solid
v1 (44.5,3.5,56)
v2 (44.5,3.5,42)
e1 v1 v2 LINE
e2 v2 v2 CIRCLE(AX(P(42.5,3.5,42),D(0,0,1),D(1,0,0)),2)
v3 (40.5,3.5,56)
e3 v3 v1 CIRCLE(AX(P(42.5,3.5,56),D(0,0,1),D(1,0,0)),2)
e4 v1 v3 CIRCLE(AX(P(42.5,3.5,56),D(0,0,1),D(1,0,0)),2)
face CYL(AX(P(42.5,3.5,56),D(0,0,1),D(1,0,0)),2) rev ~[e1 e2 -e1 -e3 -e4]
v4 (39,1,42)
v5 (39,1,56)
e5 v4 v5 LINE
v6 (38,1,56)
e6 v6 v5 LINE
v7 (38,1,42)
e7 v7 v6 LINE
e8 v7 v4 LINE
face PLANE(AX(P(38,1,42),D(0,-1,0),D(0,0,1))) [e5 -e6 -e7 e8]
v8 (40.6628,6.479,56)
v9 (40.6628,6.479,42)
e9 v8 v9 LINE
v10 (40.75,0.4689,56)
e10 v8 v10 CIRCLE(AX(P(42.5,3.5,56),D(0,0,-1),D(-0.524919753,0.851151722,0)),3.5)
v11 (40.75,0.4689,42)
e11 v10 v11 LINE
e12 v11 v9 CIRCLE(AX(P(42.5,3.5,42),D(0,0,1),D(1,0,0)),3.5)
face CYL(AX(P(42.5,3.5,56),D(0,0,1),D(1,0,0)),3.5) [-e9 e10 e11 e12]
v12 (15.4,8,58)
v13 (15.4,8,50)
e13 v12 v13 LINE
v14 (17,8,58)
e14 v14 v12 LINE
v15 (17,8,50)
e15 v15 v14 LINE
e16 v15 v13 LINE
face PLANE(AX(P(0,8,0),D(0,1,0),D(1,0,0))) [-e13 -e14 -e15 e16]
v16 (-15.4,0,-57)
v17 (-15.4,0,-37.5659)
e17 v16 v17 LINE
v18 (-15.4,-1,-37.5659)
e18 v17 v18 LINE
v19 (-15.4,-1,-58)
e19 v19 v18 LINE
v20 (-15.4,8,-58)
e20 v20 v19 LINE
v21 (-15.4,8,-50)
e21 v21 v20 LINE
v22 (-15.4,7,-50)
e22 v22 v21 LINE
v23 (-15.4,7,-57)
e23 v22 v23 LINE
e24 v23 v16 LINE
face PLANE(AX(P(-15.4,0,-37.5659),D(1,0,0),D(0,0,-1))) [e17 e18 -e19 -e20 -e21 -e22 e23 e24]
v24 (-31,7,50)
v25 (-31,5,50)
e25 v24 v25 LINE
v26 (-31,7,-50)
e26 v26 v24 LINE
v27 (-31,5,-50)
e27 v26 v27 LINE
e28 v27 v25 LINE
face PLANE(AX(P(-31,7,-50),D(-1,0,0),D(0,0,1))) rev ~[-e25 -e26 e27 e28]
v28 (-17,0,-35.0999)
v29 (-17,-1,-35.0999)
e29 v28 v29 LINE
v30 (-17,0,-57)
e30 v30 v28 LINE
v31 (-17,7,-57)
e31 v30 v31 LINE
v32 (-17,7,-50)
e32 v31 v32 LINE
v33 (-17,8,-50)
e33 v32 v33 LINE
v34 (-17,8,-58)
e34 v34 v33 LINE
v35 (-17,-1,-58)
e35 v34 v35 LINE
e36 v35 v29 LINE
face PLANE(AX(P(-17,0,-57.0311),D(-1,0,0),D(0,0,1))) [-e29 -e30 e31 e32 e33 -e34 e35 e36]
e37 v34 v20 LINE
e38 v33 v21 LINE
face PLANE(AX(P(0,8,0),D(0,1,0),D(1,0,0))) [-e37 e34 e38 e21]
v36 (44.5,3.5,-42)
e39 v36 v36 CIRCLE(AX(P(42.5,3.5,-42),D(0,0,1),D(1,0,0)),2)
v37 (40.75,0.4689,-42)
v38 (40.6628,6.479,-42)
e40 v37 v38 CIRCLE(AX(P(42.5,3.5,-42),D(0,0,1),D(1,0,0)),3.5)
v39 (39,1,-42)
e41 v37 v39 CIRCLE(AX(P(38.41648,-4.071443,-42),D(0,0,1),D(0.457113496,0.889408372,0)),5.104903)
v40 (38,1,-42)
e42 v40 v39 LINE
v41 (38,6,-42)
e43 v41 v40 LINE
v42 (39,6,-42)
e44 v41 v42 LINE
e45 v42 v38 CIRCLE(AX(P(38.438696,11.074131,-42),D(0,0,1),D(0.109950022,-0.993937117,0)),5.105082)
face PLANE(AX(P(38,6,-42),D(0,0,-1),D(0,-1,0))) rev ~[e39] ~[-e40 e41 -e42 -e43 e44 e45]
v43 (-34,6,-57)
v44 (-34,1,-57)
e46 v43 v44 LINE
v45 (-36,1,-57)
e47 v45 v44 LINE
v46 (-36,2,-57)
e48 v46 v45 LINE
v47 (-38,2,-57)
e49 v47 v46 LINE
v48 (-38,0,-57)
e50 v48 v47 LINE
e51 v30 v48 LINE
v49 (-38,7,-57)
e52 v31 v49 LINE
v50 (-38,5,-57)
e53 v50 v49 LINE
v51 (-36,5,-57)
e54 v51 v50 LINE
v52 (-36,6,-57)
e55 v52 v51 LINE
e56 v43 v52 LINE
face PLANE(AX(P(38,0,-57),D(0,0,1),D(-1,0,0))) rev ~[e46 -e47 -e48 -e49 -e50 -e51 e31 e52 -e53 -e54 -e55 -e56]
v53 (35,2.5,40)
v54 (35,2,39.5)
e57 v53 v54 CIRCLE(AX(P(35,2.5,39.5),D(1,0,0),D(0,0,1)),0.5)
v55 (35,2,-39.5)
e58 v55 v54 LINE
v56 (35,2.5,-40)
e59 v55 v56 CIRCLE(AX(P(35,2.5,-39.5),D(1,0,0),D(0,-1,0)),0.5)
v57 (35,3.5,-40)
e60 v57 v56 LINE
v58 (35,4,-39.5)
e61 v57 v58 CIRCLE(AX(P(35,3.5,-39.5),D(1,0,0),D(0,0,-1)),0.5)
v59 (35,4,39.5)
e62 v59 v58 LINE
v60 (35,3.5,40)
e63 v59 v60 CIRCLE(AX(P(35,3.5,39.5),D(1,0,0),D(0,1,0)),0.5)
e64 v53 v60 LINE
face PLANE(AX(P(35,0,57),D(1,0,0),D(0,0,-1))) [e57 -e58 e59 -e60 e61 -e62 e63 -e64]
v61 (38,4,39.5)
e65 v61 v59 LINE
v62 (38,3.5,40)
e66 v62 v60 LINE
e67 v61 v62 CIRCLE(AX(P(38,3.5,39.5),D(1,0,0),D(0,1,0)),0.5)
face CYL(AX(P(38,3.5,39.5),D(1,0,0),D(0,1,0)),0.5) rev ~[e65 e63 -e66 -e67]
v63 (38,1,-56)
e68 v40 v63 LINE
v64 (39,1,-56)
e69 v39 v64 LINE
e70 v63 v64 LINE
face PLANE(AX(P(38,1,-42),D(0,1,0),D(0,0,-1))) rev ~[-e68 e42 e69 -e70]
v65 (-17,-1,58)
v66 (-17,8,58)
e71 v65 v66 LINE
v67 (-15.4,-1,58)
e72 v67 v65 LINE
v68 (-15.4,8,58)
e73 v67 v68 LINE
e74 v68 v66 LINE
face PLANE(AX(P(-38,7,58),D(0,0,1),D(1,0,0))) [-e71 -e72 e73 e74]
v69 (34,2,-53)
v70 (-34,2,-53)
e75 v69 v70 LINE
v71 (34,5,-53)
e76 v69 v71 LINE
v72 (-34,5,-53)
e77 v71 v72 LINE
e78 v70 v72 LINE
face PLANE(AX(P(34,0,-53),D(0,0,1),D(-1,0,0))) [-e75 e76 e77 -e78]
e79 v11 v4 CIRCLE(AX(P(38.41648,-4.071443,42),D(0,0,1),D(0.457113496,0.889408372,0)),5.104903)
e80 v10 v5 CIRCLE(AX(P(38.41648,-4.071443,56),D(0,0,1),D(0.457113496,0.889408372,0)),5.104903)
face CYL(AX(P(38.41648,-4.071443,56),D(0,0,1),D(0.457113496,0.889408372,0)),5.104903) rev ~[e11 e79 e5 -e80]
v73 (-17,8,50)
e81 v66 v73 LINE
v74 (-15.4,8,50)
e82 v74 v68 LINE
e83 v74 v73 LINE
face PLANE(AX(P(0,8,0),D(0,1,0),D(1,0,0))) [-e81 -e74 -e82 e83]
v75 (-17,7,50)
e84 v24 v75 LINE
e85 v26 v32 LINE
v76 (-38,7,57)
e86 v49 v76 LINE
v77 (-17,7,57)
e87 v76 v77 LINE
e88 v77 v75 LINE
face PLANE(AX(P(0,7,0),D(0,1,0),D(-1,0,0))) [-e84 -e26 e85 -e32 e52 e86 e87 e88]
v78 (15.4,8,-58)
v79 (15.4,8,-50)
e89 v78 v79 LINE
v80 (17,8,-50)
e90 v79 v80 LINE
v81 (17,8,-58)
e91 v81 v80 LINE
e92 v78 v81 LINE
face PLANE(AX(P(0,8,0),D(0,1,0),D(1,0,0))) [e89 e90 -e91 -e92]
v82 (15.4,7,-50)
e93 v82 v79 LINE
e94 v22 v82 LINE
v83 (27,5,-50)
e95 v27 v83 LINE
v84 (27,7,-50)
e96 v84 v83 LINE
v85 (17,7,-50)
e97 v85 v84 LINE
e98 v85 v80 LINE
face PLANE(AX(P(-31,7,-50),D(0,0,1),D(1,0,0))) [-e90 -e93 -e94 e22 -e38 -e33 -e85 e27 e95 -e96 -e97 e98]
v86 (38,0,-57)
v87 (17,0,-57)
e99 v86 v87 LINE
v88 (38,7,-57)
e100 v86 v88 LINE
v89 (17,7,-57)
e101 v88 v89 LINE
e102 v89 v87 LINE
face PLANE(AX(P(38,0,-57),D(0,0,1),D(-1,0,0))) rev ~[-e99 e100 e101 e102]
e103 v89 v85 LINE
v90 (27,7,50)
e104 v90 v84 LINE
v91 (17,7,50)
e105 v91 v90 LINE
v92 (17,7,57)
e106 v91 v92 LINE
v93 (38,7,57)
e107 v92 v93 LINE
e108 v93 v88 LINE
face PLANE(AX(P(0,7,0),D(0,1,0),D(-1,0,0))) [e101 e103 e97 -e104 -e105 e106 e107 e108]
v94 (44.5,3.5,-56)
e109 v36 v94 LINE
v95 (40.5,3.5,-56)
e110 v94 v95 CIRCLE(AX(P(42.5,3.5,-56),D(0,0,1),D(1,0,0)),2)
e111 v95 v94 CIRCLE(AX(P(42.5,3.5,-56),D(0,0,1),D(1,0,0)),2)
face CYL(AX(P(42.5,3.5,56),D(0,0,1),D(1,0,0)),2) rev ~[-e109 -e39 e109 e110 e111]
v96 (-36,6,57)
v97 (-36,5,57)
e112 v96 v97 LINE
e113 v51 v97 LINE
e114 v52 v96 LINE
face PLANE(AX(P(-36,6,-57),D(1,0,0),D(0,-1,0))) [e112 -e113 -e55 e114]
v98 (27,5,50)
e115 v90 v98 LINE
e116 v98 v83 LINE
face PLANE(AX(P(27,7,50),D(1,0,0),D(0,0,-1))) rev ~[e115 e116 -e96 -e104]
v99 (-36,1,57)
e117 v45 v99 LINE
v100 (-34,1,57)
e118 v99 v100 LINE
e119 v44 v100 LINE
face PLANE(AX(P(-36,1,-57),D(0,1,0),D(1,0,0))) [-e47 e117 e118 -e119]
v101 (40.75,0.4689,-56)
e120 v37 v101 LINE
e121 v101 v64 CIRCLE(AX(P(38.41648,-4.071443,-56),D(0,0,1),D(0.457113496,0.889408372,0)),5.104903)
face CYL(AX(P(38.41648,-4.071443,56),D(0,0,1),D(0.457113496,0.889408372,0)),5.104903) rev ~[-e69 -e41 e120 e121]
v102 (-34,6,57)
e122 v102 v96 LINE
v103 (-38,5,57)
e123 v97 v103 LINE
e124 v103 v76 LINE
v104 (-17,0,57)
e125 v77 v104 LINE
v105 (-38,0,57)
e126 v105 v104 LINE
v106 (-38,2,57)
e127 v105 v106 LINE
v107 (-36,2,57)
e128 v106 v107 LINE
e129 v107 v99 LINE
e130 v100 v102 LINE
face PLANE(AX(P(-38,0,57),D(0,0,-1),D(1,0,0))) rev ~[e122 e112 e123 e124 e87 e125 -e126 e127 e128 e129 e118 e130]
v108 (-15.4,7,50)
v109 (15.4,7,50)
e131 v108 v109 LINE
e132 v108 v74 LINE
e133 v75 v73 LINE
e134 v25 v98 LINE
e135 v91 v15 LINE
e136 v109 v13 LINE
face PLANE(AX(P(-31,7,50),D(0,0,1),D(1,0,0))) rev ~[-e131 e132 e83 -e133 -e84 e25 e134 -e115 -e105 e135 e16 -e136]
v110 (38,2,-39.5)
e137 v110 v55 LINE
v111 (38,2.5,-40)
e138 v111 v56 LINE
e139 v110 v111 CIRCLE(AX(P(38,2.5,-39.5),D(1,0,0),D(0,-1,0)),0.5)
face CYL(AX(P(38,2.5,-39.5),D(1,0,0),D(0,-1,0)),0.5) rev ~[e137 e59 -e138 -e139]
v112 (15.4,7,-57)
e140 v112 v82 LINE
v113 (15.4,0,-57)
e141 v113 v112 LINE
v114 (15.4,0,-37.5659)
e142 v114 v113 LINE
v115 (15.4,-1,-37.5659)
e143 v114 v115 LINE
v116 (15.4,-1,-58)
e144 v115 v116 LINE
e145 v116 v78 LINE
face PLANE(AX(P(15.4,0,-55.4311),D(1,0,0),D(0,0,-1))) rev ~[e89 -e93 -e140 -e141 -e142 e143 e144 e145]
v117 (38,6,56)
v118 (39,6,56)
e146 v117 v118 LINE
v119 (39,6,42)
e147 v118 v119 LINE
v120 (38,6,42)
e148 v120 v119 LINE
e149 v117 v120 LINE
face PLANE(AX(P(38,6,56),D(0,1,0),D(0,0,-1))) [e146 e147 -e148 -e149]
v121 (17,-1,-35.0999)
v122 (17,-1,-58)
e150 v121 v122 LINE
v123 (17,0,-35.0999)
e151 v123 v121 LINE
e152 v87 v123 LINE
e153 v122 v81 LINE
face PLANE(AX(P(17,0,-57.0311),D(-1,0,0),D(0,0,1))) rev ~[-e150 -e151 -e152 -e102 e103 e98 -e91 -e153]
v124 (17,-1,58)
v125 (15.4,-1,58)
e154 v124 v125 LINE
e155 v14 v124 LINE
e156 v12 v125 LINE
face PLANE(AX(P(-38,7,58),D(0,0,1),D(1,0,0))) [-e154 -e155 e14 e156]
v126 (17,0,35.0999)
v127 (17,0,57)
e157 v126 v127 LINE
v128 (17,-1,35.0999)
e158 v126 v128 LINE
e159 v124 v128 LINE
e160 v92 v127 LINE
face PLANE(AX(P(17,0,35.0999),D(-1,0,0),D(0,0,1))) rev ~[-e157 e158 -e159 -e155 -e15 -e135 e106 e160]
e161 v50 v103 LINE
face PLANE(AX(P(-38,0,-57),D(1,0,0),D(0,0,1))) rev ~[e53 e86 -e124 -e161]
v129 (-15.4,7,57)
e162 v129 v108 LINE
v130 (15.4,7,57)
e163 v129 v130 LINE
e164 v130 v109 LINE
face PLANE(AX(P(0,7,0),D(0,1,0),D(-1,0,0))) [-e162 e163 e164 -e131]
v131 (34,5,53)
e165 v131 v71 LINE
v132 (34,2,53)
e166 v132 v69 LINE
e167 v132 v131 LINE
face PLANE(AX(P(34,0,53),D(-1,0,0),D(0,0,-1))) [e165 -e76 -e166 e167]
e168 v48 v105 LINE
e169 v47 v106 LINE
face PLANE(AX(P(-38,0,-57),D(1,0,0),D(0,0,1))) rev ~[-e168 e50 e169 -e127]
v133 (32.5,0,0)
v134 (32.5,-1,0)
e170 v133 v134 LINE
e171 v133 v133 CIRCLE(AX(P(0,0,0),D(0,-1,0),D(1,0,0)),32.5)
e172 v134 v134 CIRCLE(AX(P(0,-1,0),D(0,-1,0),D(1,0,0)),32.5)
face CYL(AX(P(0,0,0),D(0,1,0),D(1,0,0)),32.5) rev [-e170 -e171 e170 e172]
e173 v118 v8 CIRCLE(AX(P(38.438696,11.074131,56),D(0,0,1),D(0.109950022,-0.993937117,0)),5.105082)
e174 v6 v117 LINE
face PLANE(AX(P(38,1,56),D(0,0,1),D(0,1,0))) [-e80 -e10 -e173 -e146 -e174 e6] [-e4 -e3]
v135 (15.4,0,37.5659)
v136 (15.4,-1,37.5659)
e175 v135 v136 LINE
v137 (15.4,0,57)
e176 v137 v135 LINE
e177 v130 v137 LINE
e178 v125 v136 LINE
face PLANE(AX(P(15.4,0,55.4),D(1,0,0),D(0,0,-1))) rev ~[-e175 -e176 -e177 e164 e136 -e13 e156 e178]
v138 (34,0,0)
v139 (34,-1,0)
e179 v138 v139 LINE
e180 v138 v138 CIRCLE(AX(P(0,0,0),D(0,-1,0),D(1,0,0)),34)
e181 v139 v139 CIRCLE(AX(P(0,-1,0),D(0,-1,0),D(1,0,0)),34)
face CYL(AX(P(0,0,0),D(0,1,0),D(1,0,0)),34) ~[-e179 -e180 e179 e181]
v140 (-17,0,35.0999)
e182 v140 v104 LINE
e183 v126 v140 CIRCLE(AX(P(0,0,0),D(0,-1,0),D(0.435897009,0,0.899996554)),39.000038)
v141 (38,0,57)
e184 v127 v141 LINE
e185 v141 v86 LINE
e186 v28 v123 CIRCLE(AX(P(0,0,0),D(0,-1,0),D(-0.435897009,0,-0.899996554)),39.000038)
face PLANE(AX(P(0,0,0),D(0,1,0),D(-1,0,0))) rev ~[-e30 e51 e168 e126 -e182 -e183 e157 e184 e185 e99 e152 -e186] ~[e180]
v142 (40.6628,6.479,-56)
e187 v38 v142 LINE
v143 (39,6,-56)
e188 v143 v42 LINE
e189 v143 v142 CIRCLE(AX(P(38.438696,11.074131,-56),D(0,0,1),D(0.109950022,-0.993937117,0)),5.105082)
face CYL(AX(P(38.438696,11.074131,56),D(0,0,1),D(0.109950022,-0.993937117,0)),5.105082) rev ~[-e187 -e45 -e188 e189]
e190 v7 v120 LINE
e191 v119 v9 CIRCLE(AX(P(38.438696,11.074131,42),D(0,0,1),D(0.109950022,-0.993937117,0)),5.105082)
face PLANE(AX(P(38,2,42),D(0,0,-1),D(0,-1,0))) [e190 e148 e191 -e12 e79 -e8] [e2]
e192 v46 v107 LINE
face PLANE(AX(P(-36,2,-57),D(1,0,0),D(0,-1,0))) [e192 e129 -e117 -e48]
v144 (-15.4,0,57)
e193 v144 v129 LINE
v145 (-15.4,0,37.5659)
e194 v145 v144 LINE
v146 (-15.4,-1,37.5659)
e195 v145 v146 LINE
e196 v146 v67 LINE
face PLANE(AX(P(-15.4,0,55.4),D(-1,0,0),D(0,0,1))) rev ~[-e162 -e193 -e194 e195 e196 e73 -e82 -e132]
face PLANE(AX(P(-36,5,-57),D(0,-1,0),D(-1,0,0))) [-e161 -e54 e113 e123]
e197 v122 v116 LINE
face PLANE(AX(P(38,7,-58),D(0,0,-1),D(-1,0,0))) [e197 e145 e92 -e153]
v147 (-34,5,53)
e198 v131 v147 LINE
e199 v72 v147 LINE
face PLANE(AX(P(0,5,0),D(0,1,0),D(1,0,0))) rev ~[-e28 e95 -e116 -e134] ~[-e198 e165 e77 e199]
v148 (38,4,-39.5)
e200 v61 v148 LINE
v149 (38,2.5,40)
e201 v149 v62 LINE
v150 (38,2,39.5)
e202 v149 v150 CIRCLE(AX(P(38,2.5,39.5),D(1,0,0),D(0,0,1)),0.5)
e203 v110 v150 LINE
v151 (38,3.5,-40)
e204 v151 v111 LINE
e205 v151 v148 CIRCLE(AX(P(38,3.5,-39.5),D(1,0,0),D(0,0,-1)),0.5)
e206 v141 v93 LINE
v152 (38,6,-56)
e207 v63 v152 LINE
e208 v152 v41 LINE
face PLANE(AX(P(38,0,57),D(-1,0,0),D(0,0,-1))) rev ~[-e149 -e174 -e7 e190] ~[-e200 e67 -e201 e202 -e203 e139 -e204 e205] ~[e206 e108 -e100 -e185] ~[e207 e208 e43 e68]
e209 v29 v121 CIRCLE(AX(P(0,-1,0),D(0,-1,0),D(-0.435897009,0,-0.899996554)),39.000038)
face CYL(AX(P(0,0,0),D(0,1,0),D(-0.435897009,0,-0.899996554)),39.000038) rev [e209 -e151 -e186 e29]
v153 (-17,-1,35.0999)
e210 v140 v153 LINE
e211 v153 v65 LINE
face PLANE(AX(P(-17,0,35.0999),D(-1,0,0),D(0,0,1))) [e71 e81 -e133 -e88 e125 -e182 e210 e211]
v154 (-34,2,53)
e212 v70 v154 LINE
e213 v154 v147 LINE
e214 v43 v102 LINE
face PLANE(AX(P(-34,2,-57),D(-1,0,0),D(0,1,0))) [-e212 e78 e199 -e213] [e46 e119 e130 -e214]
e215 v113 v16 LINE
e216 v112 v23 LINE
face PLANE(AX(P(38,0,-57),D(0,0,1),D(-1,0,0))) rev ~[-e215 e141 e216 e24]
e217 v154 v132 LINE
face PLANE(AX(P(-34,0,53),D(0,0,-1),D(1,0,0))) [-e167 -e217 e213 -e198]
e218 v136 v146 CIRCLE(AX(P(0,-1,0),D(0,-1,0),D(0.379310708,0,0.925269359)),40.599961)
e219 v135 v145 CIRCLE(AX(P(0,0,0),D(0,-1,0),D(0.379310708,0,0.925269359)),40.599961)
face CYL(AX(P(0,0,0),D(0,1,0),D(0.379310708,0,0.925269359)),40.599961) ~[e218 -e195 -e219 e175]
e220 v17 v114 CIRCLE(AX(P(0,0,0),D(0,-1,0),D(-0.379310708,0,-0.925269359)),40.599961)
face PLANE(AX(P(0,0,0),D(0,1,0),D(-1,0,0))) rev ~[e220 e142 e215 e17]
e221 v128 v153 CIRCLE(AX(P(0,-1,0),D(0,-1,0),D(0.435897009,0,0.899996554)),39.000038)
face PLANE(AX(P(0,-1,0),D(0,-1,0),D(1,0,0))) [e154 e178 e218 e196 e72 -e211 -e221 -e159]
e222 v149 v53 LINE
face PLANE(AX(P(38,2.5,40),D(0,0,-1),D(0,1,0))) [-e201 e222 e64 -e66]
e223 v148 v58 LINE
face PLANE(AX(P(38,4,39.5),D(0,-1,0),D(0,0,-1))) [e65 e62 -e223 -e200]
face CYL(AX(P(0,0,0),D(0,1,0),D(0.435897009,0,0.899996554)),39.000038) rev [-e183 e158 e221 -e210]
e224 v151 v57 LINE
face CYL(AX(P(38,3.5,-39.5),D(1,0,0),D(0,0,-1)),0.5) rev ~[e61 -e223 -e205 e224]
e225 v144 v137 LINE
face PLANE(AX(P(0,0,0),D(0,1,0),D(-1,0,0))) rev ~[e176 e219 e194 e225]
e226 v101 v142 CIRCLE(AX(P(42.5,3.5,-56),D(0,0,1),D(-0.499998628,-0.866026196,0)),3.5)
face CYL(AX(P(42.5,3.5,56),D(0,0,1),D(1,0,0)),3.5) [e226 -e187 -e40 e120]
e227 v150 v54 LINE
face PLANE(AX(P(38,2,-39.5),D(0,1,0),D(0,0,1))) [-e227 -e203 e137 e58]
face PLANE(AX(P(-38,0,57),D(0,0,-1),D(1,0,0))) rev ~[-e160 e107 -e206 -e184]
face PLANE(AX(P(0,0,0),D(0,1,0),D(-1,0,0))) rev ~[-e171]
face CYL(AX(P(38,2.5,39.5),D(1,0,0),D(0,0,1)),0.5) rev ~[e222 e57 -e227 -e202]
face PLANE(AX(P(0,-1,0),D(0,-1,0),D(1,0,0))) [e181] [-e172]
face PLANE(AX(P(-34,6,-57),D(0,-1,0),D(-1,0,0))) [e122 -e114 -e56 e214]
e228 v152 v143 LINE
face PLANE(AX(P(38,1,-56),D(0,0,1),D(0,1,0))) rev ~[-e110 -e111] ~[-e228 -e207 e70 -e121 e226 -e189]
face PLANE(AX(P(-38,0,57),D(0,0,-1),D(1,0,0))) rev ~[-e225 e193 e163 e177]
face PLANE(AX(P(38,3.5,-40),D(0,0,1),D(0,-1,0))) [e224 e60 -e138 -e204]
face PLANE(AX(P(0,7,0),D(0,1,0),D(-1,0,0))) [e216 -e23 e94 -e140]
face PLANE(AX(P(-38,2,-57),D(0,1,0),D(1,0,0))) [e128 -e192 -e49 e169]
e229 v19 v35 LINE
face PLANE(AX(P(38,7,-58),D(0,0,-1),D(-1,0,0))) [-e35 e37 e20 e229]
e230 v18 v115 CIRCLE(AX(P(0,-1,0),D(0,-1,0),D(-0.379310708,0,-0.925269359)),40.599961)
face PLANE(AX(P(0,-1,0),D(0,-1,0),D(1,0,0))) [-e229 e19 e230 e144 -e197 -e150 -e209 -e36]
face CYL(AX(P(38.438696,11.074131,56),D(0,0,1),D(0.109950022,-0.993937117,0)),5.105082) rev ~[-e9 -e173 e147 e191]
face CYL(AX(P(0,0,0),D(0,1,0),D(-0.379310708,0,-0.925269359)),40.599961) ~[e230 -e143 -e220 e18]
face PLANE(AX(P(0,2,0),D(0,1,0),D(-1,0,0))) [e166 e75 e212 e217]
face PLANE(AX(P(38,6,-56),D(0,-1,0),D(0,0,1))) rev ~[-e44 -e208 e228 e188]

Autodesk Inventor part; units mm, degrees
ref_plane "YZ Plane" through (0, 0, 0) normal (1, 0, 0) x (0, 1, 0)
ref_plane "XZ Plane" through (0, 0, 0) normal (0, 1, 0) x (-1, 0, 0)
ref_plane "XY Plane" through (0, 0, 0) normal (0, 0, 1) x (1, 0, 0)
sketch "Эскиз1" plane through (0, 0, 0) normal (0, 1, 0) x (-1, 0, 0)
  line L0 (34, 53) -> (-34, 53)
  line L1 (-34, 53) -> (-34, -53)
  line L2 (-34, -53) -> (34, -53)
  line L3 (34, -53) -> (34, 53)
  line L4 (34, 53) -> (-34, -53) construction
  line L5 (-34, 53) -> (34, -53) construction
  line L6 (38, 57) -> (-38, 57)
  line L7 (-38, 57) -> (-38, -57)
  line L8 (-38, -57) -> (38, -57)
  line L9 (38, -57) -> (38, 57)
  point P0 (0, 0)
  dimension "d1" = 68
  dimension "d2" = 106
  dimension "d3" = 4
extrude "Выдавливание1" add sketch "Эскиз1" along normal blind 2 contours L3 L2 L1 L0
extrude "Выдавливание2" add sketch "Эскиз1" along normal blind 7
sketch "Эскиз2" plane through (0, 7, 0) normal (0, 1, 0) x (1, 0, 0)
  line L0 (34, -53) -> (-34, -53) projected
  line L1 (34, 53) -> (-34, 53)
  line L2 (-34, 53) -> (-34, -53)
  line L3 (-34, -53) -> (34, -53)
  line L4 (34, -53) -> (34, 53)
  line L5 (34, 53) -> (-34, -53) construction
  line L6 (-34, 53) -> (34, -53) construction
  line L7 (-34, -53) -> (-34, -50)
  line L8 (-34, -50) -> (34, -50)
  line L9 (-34, 53) -> (34, 53) projected
  line L10 (-34, 53) -> (-34, 50)
  line L11 (-34, 50) -> (34, 50)
  line L12 (34, 53) -> (34, -53) projected
  line L13 (34, -50) -> (27, -50)
  line L14 (27, -50) -> (27, 50)
  line L15 (-34, 50) -> (-31, 50)
  line L16 (-31, 50) -> (-31, -50)
  point P0 (0, 0)
  dimension "d8" = 3
  dimension "d9" = 3
  dimension "d10" = 7
  dimension "d11" = 3
extrude "Выдавливание3" add sketch "Эскиз2" against normal blind 2 contours L0 L2 L8 L4 | L8 L14 L11 L4 | L2 L11 L16 L8 | L11 L2 L1 L4
sketch "Эскиз3" plane through (38, 0, 57) normal (1, 0, 0) x (0, 0, -1)
  line L0 (114, 0) -> (0, 0) projected
  line L1 (0, 0) -> (16, 0)
  line L2 (16, 0) -> (16, 7)
  line L3 (114, 7) -> (0, 7) projected
  line L4 (114, 0) -> (114, 7) projected
  line L5 (114, 0) -> (98, 0)
  line L6 (98, 0) -> (98, 7)
  line L7 (98, 7) -> (114, 7)
  line L8 (114, 7) -> (114, 0)
  line L9 (0, 0) -> (0, 7)
  line L10 (0, 7) -> (16, 7)
  line L11 (15, 6) -> (15, 1)
  line L12 (15, 1) -> (1, 1)
  line L13 (1, 1) -> (1, 6)
  line L14 (1, 6) -> (15, 6)
  line L15 (99, 6) -> (99, 1)
  line L16 (99, 1) -> (113, 1)
  line L17 (113, 1) -> (113, 6)
  line L18 (113, 6) -> (99, 6)
  line L19 (16, 0) -> (17, 0)
  line L20 (17, 0) -> (17, 2)
  line L21 (98, 0) -> (97, 0)
  line L22 (97, 0) -> (97, 2)
  line L23 (96.5, 2) -> (17.5, 2)
  line L24 (17, 2.5) -> (17, 3.5)
  line L25 (17.5, 4) -> (96.5, 4)
  line L26 (97, 3.5) -> (97, 2.5)
  line L27 (110, 2) -> (4, 2) projected
  arc A0 (17.5, 4) -> (17, 3.5) centre (17.5, 3.5) ccw
  arc A1 (17, 2.5) -> (17.5, 2) centre (17.5, 2.5) ccw
  arc A2 (97, 3.5) -> (96.5, 4) centre (96.5, 3.5) ccw
  arc A3 (96.5, 2) -> (97, 2.5) centre (96.5, 2.5) ccw
  point P0 (57, 0)
  point P1 (17, 4)
  dimension "d14" = 16
  dimension "d15" = 16
  dimension "d16" = 1
  dimension "d17" = 1
  dimension "d18" = 1
  dimension "d19" = 2
  dimension "d20" = 1
  dimension "d21" = 2
  dimension "d22" = 2
  dimension "d23" = 0.5
extrude "Выдавливание4" cut sketch "Эскиз3" against normal blind 3 contours L23 A1 L24 A0 L25 A2 L26 A3
extrude "Выдавливание5" add sketch "Эскиз3" along normal blind 1 contours L15 L18 L17 L16 | L11 L12 L13 L14
sketch "Эскиз4" plane through (38, 0, -57) normal (0, 0, -1) x (-1, 0, 0)
  line L0 (0, 0) -> (76, 0) projected
  line L1 (76, 0) -> (76, 2)
  line L2 (76, 0) -> (76, 7) projected
  line L3 (72, 2) -> (72, 5) projected
  line L4 (76, 2) -> (72, 2)
  line L5 (72, 2) -> (72, 5)
  line L6 (72, 5) -> (76, 5)
  line L7 (76, 5) -> (76, 2)
  line L8 (72, 5) -> (72, 6)
  line L9 (72, 6) -> (74, 6)
  line L10 (74, 6) -> (74, 5)
  line L11 (74, 2) -> (74, 1)
  line L12 (74, 1) -> (72, 1)
  line L13 (72, 1) -> (72, 2)
  point P0 (38, 0)
  dimension "d28" = 2
  dimension "d29" = 1
  dimension "d30" = 2
  dimension "d31" = 1
extrude "Выдавливание6" cut sketch "Эскиз4" against normal blind 120
sketch "Эскиз5" plane through (38, 1, 56) normal (0, 0, 1) x (1, 0, 0)
  line L0 (1, 5) -> (1, 0) projected
  line L1 (1, 0) -> (1, 2.5)
  line L2 (1, 2.5) -> (4.5, 2.5)
  circle A0 centre (4.5, 2.5) radius 3.5
  arc A1 (2.75, -0.5311) -> (1, 0) centre (0.4167, -5.0709) ccw
  arc A2 (1, 5) -> (2.6628, 5.479) centre (0.4389, 10.0731) ccw
  circle A3 centre (4.5, 2.5) radius 2
  point P0 (-38, -1)
  dimension "d34" = 2.5
  dimension "d36" = 3.5
  dimension "d37" = 5.104
  dimension "d38" = 4
extrude "Выдавливание7" add sketch "Эскиз5" against normal blind 112
sketch "Эскиз6" plane through (38, 1, 42) normal (0, 0, -1) x (-1, 0, 0)
  line L0 (0, 5) -> (-1, 5) projected
  line L1 (-1, 5) -> (-1, 8.1758)
  line L2 (-1, 8.1758) -> (-10.78, 8.3268)
  line L3 (-10.78, 8.3268) -> (-10.1005, -3.8271)
  line L4 (-10.1005, -3.8271) -> (-1.8469, -2.418)
  line L5 (-1.8469, -2.418) -> (-1, -0.011)
  line L6 (-1, -0.011) -> (-1, 5)
  point P0 (38, -1)
extrude "Выдавливание8" cut sketch "Эскиз6" along normal blind 84
sketch "Эскиз7" plane through (0, 0, 0) normal (0, -1, 0) x (1, 0, 0)
  circle A0 centre (0, 0) radius 34
  circle A1 centre (0, 0) radius 32.5
  line L0 (-17, -57.0311) -> (17, -57.0311)
  line L1 (-17, -57.0311) -> (-17, -35.0999)
  line L2 (-38, 57) -> (38, 57) projected
  line L3 (17, 57) -> (-17, 57)
  arc A2 (17, 35.0999) -> (-17, 35.0999) centre (0, 0) ccw
  arc A3 (-17, -35.0999) -> (17, -35.0999) centre (0, 0) ccw
  line L4 (-17, 35.0999) -> (-17, 57)
  line L5 (17, 35.0999) -> (17, 57)
  line L6 (17, -57.0311) -> (17, -35.0999)
  line L7 (-15.4, -37.5659) -> (-15.4, -55.4311)
  line L8 (15.4, -55.4311) -> (15.4, -37.5659)
  arc A4 (-15.4, -37.5659) -> (15.4, -37.5659) centre (0, 0) ccw
  line L9 (15.4, 55.4) -> (15.4, 37.5659)
  arc A5 (15.4, 37.5659) -> (-15.4, 37.5659) centre (0, 0) ccw
  line L10 (-15.4, 37.5659) -> (-15.4, 55.4)
  line L11 (-15.4, -55.4311) -> (-15.4, -57.0311)
  line L12 (15.4, -55.4311) -> (15.4, -57.0311)
  line L13 (-15.4, 55.4) -> (-15.4, 57)
  line L14 (15.4, 55.4) -> (15.4, 57)
  dimension "d43" = 65
  dimension "d51" = 1.6
  dimension "d52" = 1.6
extrude "Выдавливание9" add sketch "Эскиз7" along normal blind 1 contours A0 | L1 A3 L6 L0 L12 L8 A4 L7 L11 | L2 L13 L10 A5 L9 L14 L5 A2 L4
sketch "Эскиз8" plane through (-38, 7, 57) normal (0, 0, 1) x (1, 0, 0)
  line L0 (21, -7) -> (21, -8) projected
  line L1 (21, -8) -> (21, 0)
  line L2 (76, 0) -> (0, 0) projected
  line L3 (55, -8) -> (21, -8) projected
  line L4 (21, -8) -> (22.6, -8)
  line L5 (22.6, -8) -> (22.6, 0)
  line L6 (22.6, 0) -> (21, 0)
  line L7 (53.4, -7) -> (53.4, -8) projected
  line L8 (53.4, -8) -> (53.4, 0)
  line L9 (53.4, 0) -> (55, 0)
  line L10 (55, 0) -> (55, -8)
  line L11 (55, -8) -> (53.4, -8)
  point P0 (38, -7)
  dimension "d55" = 1.6
  dimension "d56" = 1.6
extrude "Выдавливание10" add sketch "Эскиз8" along normal blind 1 contours L1 L2 L5 L3 L0 | L7 L8 L2 L10 L3
sketch "Эскиз9" plane through (38, 7, -57) normal (0, 0, -1) x (-1, 0, 0)
  line L0 (55, -7) -> (55, -8) projected
  line L1 (55, -8) -> (55, 0)
  line L2 (55, 0) -> (53.4, 0)
  line L3 (53.4, -7) -> (53.4, -8) projected
  line L4 (53.4, 0) -> (53.4, -8)
  line L5 (53.4, -8) -> (55, -8)
  line L6 (22.6, -7) -> (22.6, -8) projected
  line L7 (22.6, -8) -> (22.6, 0)
  line L8 (22.6, 0) -> (21, 0)
  line L9 (21, 0) -> (21, -8)
  line L10 (21, -8) -> (22.6, -8)
  point P0 (38, -7)
  dimension "d59" = 8
  dimension "d60" = 1.6
  dimension "d61" = 1.6
extrude "Выдавливание11" add sketch "Эскиз9" along normal blind 1
sketch "Эскиз10" plane through (0, 7, 0) normal (0, 1, 0) x (1, 0, 0)
  line L0 (-15.4, -58) -> (-17, -58) projected
  line L1 (-17, -58) -> (-17, -50)
  line L2 (27, -50) -> (-31, -50) projected
  line L3 (-15.4, -57) -> (-15.4, -58) projected
  line L4 (-15.4, -58) -> (-17, -58)
  line L5 (-15.4, -58) -> (-15.4, -50)
  line L6 (-15.4, -50) -> (-17, -50)
  line L7 (15.4, -58) -> (15.4, -50)
  line L8 (15.4, -50) -> (17, -50)
  line L9 (17, -35.0999) -> (17, -58) projected
  line L10 (17, -58) -> (15.4, -58)
  line L11 (17, -58) -> (17, -50)
  line L12 (-17, 58) -> (-15.4, 58) projected
  line L13 (-17, 58) -> (-17, 50)
  line L14 (-17, 50) -> (-15.4, 50)
  line L15 (-15.4, 50) -> (-15.4, 58)
  line L16 (-15.4, 58) -> (-17, 58)
  line L17 (15.4, 58) -> (15.4, 50)
  line L18 (15.4, 50) -> (17, 50)
  line L19 (17, 58) -> (17, 50)
  line L20 (15.4, 58) -> (17, 58)
  point P0 (0, 0)
  dimension "d64" = 8
extrude "Выдавливание12" add sketch "Эскиз10" along normal blind 1
properties part number "Дета2ль1"
